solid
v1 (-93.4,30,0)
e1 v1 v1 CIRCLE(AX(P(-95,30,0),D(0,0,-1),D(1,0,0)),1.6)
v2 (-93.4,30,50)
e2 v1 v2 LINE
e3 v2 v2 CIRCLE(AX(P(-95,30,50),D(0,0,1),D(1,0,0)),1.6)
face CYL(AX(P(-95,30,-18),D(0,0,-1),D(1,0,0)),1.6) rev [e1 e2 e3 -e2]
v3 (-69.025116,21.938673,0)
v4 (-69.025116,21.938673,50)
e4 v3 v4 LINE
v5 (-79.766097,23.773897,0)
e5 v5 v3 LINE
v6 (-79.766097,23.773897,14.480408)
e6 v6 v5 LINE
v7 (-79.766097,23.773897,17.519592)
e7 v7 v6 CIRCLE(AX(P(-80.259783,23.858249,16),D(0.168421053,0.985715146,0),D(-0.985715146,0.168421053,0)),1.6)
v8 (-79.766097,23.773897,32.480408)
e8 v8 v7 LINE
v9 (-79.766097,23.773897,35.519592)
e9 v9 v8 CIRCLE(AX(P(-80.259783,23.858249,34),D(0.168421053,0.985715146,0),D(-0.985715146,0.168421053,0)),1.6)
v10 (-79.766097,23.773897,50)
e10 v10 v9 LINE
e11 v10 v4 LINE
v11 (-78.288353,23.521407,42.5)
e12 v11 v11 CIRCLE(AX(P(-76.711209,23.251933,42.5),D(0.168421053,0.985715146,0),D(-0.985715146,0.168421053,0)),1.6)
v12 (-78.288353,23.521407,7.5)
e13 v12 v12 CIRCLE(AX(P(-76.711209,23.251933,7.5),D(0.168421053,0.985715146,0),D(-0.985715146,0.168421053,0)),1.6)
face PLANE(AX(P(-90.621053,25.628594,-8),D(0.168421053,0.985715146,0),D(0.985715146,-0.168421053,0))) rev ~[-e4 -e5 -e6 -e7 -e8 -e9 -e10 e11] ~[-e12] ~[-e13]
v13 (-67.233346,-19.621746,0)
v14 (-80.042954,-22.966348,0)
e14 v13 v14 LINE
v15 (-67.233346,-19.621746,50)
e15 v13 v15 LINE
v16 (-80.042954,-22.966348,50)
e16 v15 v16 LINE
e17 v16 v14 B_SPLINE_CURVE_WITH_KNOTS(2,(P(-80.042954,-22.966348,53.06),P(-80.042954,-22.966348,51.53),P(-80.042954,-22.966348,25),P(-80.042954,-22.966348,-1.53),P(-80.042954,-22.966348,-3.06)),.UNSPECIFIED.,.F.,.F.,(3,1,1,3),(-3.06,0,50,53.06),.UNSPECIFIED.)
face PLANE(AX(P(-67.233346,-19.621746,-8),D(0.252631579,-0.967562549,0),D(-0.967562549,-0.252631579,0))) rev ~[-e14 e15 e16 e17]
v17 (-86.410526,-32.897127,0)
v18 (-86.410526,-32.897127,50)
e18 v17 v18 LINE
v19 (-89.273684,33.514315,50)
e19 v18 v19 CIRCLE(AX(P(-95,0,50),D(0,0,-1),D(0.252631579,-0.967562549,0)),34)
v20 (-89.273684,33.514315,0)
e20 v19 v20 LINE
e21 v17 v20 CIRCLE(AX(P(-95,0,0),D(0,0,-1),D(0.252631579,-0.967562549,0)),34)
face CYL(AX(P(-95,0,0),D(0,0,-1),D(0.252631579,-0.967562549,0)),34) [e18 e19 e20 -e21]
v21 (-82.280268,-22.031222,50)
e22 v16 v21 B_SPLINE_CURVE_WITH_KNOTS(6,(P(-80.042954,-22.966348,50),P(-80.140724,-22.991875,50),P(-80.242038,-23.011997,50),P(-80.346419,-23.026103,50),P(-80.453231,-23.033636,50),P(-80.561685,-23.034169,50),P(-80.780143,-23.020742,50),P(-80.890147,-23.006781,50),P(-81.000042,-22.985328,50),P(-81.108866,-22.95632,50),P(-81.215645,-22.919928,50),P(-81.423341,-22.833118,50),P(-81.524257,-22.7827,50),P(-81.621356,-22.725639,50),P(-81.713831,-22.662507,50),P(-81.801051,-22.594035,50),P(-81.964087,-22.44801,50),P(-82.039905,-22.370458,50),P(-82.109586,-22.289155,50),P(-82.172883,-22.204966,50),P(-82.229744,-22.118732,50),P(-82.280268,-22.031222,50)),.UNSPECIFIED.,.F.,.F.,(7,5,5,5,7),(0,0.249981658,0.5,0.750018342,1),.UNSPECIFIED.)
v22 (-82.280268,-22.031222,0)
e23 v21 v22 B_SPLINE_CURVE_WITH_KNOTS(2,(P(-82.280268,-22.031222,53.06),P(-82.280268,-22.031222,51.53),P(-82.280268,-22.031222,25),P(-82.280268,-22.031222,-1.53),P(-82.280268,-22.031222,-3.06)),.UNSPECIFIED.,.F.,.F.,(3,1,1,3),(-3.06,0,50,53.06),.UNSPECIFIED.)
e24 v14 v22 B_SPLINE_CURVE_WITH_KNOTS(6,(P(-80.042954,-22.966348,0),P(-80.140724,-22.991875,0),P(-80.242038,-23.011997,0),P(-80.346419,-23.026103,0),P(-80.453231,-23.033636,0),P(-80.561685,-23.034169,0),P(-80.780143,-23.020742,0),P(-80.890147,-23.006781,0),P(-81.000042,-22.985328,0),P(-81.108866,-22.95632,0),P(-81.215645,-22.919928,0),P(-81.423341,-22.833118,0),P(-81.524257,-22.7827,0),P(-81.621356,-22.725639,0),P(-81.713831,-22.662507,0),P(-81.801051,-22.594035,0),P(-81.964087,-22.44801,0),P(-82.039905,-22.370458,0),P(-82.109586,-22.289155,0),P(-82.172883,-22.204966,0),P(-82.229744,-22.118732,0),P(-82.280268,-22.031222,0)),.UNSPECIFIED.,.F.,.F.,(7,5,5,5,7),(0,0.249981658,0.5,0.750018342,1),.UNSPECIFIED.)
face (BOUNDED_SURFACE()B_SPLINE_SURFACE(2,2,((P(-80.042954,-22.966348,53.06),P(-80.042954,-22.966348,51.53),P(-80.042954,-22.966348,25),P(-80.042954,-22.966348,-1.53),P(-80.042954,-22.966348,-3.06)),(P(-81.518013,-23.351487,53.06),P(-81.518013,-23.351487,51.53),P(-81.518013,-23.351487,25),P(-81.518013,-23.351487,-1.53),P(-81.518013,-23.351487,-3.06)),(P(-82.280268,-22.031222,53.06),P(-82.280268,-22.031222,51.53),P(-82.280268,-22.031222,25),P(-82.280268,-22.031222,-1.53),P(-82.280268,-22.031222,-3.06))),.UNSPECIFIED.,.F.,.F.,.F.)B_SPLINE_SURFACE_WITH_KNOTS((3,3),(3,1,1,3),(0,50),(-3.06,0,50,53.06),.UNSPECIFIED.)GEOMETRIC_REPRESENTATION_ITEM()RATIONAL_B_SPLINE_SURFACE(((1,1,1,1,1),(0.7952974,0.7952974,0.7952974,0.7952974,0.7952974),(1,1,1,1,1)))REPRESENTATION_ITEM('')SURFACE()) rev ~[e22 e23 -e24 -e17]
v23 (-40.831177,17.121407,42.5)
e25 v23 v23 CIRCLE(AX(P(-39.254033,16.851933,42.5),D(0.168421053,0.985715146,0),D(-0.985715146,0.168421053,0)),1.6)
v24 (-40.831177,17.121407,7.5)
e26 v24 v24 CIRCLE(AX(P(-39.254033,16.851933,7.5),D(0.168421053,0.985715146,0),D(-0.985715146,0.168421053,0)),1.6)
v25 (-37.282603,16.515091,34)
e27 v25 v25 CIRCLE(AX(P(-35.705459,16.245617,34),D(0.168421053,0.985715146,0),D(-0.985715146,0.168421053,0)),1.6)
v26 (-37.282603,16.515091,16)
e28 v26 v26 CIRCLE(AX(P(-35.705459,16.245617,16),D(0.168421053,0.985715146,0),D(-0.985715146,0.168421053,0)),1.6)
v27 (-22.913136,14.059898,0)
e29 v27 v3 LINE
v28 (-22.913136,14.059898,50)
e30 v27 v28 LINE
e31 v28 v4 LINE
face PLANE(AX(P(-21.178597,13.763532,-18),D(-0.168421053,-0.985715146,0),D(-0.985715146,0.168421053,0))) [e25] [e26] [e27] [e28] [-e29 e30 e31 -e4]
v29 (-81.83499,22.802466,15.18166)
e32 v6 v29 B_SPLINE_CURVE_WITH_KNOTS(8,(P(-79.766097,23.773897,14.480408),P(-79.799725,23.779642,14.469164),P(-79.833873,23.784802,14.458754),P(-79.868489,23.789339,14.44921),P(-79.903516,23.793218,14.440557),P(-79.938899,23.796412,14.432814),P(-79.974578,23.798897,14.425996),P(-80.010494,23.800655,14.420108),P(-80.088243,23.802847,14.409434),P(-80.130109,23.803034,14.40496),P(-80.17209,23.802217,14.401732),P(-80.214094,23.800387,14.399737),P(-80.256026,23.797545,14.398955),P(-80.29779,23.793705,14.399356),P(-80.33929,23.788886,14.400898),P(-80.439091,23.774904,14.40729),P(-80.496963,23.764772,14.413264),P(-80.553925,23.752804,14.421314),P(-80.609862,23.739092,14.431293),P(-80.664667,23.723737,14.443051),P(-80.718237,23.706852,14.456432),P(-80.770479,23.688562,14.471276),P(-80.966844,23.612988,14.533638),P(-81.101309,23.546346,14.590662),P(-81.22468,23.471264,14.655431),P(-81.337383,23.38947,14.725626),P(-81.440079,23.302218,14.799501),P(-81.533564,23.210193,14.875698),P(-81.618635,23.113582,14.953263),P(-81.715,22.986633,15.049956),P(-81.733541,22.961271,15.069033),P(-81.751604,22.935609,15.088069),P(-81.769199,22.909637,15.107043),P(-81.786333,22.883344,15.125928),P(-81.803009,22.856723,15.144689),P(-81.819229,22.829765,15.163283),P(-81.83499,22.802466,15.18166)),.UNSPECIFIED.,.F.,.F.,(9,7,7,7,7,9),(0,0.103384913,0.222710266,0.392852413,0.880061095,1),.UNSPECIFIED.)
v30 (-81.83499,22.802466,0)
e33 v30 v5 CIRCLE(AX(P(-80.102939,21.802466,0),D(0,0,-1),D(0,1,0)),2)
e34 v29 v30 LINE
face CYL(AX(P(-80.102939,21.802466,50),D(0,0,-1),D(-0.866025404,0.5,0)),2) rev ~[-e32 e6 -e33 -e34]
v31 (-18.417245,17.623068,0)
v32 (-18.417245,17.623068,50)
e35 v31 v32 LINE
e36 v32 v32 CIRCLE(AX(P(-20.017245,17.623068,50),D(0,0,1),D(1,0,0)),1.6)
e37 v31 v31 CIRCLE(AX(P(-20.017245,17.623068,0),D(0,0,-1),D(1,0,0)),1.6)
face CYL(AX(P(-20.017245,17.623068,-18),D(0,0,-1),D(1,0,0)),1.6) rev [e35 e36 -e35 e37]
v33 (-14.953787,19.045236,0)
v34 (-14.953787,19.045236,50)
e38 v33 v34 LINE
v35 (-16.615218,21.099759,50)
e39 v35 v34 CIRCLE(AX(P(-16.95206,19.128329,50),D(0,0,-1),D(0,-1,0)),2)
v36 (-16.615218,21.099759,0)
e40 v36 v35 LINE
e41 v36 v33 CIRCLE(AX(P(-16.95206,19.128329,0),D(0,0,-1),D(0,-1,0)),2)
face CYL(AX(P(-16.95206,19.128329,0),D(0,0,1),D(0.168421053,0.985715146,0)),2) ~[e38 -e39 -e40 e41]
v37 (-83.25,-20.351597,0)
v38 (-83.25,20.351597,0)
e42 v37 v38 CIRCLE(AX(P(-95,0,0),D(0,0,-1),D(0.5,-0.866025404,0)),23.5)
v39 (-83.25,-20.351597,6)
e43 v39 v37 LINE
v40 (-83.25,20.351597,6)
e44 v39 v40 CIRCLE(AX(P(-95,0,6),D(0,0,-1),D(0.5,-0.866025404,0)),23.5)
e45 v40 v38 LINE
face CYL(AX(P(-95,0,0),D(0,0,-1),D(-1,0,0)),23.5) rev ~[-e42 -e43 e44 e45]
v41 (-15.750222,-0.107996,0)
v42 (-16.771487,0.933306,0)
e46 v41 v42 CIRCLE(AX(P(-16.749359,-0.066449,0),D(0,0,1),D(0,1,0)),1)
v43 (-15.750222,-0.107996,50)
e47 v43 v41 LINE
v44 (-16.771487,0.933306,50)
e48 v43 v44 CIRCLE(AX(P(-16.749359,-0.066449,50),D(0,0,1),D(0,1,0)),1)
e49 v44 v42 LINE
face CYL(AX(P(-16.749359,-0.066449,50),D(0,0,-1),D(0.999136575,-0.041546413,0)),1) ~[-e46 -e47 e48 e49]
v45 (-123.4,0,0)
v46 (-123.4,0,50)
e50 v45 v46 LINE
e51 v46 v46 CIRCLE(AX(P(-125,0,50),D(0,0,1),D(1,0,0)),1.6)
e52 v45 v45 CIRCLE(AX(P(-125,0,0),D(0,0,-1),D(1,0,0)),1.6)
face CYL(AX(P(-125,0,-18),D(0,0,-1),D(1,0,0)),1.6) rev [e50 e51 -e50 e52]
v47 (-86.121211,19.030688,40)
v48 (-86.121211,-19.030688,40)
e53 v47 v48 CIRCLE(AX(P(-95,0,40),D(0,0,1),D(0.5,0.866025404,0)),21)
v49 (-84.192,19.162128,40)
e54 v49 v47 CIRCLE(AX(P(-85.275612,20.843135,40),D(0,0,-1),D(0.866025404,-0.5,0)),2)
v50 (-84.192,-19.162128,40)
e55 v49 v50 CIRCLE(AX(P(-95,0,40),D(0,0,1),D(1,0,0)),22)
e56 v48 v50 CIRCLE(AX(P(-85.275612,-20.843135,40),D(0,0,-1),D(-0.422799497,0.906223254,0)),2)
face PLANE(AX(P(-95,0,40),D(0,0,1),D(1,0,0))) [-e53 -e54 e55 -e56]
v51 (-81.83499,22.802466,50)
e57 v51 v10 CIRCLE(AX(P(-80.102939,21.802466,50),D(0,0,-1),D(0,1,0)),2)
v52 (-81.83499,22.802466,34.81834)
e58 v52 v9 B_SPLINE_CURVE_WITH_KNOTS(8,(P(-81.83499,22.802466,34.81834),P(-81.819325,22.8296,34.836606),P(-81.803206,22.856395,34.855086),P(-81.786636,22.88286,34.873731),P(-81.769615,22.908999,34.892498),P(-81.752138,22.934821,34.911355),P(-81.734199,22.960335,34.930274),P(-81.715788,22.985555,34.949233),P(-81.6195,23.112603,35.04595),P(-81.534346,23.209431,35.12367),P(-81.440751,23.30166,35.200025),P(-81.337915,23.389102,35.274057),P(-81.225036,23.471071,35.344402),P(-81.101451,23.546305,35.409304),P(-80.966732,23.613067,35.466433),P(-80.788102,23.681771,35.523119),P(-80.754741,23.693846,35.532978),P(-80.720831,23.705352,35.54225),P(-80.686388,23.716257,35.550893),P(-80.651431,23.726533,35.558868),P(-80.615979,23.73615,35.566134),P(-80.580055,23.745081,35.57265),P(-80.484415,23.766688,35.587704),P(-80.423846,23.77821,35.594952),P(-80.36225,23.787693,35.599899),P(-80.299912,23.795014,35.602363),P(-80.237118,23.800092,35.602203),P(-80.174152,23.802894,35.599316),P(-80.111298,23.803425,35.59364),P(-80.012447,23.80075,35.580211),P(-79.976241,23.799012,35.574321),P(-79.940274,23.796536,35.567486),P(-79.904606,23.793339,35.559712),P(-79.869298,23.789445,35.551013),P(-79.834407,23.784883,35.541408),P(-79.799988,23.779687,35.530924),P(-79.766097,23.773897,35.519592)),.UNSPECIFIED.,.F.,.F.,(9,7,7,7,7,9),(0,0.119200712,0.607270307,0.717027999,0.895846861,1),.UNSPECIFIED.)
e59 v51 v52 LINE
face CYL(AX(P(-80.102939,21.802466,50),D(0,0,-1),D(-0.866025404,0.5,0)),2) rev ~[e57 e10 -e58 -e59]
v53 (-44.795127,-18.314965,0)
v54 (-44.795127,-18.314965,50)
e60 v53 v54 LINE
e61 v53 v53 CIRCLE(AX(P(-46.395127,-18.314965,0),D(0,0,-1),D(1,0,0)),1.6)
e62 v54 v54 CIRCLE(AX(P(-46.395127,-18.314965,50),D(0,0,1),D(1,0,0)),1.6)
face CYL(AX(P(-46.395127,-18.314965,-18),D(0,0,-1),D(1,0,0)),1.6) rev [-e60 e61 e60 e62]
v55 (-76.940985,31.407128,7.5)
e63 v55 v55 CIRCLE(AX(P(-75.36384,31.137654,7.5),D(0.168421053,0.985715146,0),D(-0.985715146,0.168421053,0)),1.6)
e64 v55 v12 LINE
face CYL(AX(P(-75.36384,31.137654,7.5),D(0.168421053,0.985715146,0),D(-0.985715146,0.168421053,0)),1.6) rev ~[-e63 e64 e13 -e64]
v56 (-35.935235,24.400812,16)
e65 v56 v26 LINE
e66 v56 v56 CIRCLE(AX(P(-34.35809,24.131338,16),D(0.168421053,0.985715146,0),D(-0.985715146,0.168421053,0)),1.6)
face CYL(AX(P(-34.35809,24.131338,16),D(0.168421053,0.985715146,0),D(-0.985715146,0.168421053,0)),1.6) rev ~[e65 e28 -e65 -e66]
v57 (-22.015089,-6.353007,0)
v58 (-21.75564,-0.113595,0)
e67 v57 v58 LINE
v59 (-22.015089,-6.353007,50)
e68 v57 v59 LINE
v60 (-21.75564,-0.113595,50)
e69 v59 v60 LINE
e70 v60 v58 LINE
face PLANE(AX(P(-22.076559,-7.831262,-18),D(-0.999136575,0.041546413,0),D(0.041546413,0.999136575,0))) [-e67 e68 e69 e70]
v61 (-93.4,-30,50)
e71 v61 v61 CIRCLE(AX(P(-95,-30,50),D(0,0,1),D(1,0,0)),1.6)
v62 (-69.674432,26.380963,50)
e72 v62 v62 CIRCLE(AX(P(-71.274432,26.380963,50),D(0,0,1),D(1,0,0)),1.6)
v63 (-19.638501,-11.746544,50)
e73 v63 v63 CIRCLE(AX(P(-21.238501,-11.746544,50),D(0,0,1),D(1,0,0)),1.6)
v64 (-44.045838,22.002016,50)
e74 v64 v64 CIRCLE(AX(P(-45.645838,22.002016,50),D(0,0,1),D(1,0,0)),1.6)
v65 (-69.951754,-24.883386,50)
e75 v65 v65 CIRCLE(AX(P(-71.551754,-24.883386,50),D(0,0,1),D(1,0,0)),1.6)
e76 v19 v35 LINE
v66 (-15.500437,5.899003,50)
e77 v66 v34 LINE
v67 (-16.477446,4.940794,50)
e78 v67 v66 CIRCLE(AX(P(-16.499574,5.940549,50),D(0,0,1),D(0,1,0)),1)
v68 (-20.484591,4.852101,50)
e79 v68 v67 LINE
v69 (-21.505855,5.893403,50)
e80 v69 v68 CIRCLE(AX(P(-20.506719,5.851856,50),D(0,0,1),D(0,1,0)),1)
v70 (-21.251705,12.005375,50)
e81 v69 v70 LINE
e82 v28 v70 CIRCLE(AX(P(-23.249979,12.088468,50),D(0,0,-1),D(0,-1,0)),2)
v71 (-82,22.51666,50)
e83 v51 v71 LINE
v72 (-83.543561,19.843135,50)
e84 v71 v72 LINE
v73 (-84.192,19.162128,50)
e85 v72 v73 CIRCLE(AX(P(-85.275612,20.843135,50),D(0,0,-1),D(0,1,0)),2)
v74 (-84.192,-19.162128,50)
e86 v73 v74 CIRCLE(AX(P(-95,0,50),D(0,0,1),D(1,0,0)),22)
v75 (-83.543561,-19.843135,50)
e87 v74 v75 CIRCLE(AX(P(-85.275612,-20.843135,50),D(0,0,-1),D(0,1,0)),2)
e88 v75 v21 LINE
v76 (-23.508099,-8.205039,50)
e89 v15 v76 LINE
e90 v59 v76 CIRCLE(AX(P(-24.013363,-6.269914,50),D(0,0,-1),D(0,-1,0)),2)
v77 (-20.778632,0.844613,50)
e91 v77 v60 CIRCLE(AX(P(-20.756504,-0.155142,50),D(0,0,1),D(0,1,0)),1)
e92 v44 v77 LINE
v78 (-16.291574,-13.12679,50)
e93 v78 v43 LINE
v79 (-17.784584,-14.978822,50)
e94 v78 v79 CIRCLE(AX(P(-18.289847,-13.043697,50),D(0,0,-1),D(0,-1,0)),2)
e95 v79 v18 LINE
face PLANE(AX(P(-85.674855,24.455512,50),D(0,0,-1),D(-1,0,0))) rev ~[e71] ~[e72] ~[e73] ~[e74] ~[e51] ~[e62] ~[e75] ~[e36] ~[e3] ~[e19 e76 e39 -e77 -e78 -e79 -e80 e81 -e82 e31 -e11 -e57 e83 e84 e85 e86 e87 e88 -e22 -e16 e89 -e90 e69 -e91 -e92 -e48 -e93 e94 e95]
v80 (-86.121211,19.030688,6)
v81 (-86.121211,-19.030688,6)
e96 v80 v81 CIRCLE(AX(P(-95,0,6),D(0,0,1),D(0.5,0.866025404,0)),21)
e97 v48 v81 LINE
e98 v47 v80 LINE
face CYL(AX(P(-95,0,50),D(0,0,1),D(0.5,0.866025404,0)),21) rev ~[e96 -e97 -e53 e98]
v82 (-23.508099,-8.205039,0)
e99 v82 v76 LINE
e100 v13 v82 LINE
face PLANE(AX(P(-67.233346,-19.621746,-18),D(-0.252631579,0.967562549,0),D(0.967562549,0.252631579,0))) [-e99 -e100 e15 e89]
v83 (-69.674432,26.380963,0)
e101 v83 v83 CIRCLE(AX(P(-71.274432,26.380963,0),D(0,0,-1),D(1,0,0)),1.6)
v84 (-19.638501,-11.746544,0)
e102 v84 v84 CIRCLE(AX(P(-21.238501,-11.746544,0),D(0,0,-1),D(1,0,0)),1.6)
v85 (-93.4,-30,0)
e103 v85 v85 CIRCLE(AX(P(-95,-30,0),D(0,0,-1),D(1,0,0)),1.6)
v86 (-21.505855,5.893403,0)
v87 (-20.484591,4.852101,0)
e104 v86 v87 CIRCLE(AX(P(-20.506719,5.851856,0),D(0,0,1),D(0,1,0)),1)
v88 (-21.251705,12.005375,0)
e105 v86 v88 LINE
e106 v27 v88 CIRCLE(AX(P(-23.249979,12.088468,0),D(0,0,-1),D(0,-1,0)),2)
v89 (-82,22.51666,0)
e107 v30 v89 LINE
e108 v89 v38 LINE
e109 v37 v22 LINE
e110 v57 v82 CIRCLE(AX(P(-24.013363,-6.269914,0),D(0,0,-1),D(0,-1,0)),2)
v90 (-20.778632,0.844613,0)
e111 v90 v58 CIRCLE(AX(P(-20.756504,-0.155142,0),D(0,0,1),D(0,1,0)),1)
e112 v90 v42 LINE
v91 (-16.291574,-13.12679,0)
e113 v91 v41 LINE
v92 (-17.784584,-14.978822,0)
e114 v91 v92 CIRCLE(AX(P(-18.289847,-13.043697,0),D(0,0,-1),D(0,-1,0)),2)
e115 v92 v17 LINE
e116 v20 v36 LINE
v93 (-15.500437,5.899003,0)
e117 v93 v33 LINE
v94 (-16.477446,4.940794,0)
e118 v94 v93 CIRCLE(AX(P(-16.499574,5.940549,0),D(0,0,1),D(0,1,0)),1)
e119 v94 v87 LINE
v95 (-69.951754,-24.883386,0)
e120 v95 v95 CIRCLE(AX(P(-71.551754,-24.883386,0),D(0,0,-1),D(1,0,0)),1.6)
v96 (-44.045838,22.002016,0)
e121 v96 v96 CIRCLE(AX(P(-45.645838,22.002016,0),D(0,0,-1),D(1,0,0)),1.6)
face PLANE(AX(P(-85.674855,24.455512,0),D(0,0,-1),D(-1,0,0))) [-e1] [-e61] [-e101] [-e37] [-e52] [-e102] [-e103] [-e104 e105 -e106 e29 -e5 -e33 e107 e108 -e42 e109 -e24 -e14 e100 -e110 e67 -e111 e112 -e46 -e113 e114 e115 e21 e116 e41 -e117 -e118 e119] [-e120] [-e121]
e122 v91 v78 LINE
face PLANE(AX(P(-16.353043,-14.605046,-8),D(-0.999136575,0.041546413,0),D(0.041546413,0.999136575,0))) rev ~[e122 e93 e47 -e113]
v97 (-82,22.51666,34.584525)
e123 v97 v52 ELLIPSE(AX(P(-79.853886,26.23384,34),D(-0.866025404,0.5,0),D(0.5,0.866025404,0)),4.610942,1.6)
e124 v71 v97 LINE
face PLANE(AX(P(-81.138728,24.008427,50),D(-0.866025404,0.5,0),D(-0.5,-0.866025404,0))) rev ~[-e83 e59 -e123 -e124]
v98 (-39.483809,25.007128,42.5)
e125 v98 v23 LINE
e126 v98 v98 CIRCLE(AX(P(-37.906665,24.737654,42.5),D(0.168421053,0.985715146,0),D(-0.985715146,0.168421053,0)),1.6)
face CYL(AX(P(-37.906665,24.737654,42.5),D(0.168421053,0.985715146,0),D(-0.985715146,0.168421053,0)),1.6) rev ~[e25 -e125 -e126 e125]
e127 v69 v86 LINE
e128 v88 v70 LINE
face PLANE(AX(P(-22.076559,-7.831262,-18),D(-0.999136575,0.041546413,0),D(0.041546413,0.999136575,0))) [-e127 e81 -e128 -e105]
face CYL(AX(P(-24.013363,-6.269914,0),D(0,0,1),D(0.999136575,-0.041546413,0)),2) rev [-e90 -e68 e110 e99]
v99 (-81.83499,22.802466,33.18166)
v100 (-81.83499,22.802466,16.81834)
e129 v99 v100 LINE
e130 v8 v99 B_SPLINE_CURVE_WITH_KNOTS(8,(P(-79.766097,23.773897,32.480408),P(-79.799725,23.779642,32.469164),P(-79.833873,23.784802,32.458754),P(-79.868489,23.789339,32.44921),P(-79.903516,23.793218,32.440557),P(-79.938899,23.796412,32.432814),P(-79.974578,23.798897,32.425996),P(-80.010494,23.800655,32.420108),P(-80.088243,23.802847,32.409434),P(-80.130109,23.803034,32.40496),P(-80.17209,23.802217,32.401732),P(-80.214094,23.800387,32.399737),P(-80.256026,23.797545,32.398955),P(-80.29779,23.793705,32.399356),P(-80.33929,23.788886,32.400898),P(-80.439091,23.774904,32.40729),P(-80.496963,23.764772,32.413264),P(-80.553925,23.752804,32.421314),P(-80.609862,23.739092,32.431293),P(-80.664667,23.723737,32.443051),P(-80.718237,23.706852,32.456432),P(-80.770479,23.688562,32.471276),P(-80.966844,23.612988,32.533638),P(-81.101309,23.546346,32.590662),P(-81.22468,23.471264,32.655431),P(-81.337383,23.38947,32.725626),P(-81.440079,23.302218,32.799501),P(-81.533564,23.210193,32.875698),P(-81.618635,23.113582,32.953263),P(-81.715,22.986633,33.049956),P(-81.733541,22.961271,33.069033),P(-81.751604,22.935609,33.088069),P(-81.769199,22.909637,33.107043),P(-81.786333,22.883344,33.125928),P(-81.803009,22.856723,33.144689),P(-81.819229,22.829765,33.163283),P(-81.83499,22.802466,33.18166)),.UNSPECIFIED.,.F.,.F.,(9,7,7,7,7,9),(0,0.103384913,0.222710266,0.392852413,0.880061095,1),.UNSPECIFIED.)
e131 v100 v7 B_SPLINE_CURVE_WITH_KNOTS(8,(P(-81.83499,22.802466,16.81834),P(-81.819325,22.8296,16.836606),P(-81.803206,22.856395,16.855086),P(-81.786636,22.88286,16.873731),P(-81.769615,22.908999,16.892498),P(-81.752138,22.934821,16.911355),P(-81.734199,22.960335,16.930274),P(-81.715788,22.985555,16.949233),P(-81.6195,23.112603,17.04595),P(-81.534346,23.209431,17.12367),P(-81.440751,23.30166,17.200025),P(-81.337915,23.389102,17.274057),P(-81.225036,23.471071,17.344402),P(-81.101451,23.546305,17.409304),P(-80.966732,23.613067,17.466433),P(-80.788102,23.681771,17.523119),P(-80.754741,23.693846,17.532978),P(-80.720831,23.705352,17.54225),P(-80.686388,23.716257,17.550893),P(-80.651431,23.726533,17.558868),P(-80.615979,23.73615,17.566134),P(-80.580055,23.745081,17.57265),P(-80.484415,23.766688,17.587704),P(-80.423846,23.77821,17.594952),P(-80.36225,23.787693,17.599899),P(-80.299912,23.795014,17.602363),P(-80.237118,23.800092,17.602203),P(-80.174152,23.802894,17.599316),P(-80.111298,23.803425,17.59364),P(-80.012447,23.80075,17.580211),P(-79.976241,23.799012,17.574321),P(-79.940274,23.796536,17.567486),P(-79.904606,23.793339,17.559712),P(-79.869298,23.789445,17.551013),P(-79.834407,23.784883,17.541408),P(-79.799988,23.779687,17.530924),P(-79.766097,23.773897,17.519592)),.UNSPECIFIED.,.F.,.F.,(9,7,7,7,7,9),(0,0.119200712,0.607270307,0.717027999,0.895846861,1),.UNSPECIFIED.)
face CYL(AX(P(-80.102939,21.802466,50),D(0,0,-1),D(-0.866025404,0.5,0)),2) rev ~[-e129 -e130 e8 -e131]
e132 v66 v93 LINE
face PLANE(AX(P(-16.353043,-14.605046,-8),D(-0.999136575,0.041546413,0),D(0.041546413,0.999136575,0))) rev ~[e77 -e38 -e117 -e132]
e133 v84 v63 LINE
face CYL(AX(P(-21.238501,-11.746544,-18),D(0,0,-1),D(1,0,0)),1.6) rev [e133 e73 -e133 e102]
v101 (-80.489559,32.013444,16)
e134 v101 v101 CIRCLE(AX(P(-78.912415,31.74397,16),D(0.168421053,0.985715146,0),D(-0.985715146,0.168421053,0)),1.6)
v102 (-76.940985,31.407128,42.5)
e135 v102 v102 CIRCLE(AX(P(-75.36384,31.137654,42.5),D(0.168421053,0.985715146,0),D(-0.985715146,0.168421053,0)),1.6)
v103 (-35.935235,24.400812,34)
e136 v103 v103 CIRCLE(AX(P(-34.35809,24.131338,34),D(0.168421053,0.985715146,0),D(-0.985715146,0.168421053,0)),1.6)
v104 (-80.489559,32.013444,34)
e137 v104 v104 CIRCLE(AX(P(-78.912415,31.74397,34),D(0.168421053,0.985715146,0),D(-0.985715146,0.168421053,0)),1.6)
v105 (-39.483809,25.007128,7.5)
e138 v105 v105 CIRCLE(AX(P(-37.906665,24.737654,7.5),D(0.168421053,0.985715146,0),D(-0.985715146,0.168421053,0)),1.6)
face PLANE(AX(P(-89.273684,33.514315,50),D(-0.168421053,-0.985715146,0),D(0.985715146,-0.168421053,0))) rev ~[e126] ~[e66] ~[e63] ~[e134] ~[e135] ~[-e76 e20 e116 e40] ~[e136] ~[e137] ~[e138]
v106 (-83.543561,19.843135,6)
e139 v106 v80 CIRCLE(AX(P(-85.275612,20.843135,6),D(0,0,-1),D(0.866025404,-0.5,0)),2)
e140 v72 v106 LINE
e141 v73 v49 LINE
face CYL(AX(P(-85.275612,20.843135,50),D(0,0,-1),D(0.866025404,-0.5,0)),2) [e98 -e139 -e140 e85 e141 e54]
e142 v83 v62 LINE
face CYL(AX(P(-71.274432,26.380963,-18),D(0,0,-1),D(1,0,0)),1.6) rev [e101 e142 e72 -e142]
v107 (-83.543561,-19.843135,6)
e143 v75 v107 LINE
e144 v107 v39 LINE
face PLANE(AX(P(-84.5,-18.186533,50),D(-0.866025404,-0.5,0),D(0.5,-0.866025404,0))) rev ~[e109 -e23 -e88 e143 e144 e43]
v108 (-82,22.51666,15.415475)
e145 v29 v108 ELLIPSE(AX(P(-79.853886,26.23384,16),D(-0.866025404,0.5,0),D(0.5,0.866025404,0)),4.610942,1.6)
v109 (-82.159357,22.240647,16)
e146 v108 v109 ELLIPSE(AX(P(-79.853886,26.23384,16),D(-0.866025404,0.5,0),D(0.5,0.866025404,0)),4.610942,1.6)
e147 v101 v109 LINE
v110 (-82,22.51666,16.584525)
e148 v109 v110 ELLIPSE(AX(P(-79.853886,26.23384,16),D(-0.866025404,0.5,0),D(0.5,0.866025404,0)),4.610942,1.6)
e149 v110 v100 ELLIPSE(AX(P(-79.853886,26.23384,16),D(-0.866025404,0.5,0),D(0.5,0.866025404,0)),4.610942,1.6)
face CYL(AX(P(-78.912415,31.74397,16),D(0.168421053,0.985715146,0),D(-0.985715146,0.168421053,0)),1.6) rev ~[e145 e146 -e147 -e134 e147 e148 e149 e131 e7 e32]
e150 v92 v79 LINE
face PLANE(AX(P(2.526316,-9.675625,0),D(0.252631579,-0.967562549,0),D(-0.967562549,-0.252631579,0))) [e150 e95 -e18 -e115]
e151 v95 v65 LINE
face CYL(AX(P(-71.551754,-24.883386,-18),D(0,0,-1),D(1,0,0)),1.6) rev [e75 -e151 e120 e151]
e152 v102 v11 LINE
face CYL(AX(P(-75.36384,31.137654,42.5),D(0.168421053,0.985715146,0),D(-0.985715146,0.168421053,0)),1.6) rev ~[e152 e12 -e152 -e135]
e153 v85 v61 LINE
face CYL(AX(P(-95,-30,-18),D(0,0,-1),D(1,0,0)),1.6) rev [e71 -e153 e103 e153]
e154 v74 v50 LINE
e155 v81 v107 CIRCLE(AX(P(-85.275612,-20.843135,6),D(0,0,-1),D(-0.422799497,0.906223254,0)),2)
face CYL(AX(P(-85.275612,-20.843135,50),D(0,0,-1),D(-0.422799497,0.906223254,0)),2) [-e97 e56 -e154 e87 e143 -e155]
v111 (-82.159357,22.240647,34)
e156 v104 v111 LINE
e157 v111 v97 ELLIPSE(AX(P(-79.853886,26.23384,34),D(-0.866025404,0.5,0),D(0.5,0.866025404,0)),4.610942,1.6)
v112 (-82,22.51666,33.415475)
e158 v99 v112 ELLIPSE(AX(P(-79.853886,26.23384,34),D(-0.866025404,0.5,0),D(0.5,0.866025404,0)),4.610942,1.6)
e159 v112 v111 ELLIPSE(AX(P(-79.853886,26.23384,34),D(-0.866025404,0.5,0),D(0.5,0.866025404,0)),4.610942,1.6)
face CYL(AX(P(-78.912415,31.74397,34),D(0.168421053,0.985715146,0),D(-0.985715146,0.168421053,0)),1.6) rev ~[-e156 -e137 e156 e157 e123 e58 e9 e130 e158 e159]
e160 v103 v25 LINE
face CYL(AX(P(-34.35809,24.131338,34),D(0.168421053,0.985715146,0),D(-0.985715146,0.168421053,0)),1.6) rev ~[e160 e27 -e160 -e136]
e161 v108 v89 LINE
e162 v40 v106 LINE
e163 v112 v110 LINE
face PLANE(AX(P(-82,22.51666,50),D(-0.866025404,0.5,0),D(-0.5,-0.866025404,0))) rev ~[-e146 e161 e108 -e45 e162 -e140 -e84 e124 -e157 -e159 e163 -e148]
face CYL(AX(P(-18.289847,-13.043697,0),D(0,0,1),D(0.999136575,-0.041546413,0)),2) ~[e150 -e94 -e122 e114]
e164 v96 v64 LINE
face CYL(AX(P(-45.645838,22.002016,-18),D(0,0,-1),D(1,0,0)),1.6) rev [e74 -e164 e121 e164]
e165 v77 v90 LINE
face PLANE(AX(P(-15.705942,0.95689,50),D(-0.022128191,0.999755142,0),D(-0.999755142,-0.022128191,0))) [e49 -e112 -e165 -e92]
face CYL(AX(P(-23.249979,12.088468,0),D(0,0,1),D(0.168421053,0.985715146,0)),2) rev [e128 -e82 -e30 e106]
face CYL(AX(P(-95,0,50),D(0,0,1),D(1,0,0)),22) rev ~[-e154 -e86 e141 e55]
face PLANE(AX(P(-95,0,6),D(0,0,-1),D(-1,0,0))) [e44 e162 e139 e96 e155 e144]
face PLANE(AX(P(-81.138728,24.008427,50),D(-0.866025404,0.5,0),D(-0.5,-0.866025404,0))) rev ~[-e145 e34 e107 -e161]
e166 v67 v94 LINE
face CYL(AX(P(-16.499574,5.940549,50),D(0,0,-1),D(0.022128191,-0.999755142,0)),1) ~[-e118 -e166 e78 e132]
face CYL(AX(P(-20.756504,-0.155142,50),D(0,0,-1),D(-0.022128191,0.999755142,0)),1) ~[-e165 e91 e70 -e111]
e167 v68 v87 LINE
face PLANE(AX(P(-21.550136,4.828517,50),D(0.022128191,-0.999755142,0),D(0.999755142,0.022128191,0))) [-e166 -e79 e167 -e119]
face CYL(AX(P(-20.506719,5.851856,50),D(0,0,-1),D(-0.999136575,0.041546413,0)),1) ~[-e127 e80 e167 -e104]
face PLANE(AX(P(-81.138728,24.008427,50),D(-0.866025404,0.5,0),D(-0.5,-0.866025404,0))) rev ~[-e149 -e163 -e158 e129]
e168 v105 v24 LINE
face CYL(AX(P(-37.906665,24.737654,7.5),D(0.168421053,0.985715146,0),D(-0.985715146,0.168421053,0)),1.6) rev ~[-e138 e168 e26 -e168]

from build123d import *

# Parameters (mm, degrees)
EXTRUDE_1_DEPTH            = 50
SKETCH_2_R                 = 26
CUT_EXTRUDE_1_DEPTH        = 50
EXTRUDE_2_DEPTH            = 50
CUT_EXTRUDE_START          = -68
SKETCH_3_R                 = 1.6
CUT_EXTRUDE_2_DEPTH        = 68
CUT_EXTRUDE_1_2_DEPTH      = 143.467540163
CUT_EXTRUDE_1_2_DEPTH_BACK = 58
CUT_EXTRUDE_START_2        = -58
CUT_EXTRUDE_3_DEPTH        = 58
EXTRUDE_3_DEPTH            = 50
FILLET_1_R                 = 2
SKETCH_8_R                 = 22
CUT_EXTRUDE_4_DEPTH        = 10
SKETCH_9_R                 = 23.5
CUT_EXTRUDE_5_DEPTH        = 6
EXTRUDE_4_DEPTH            = 50
FILLET_2_R                 = 2
SKETCH_11_R                = 1.6
CUT_EXTRUDE_6_DEPTH        = 24
SKETCH_12_R                = 1.6
CUT_EXTRUDE_7_DEPTH        = 10
CUT_EXTRUDE_8_DEPTH        = 72
FILLET_3_R                 = 1


with BuildPart() as part:
    # 草图1 → 凸台-拉伸1 (new body)
    with BuildSketch(Plane.XY):
        with BuildLine():
            Line((-86.410526316, 32.89712665), (2.526315789, 9.675625485))
            ThreePointArc((2.526315789, 9.675625485), (10, 0), (2.526315789, -9.675625485))
            Line((2.526315789, -9.675625485), (-86.410526316, -32.89712665))
            ThreePointArc((-86.410526316, -32.89712665), (-129, 0), (-86.410526316, 32.89712665))
        make_face()
    extrude(amount=EXTRUDE_1_DEPTH)

    # 草图2 → Cut-Extrude 1 (cut)
    with BuildSketch(Plane.XY.offset(50)):
        with Locations((-95, 0)):
            Circle(SKETCH_2_R)
    extrude(amount=-CUT_EXTRUDE_1_DEPTH, mode=Mode.SUBTRACT)

    # 草图4 → 凸台-拉伸2 (add)
    with BuildSketch(Plane.XY.offset(50)):
        Polygon((-89.273684211, 33.514314964), (0, 18.260853628), (0, 0), align=None)
    extrude(amount=-EXTRUDE_2_DEPTH)

    # 草图3 → 切除-拉伸2 (cut)
    with BuildSketch(Plane.XY.offset(50).offset(CUT_EXTRUDE_START)):
        with Locations((-95, 30)):
            Circle(SKETCH_3_R)
        with Locations((-125, 0)):
            Circle(SKETCH_3_R)
        with Locations((-95, -30)):
            Circle(SKETCH_3_R)
        with Locations((-71.551753536, -24.883386101)):
            Circle(SKETCH_3_R)
        with Locations((-71.274432107, 26.380963088)):
            Circle(SKETCH_3_R)
        with Locations((-45.645838312, 22.002015719)):
            Circle(SKETCH_3_R)
        with Locations((-21.238501013, -11.746543996)):
            Circle(SKETCH_3_R)
        with Locations((-20.017244516, 17.623068351)):
            Circle(SKETCH_3_R)
        with Locations((-46.395127275, -18.314965049)):
            Circle(SKETCH_3_R)
        with BuildLine():
            Line((-67.233345602, -19.621745681), (-22.076558694, -7.831262064))
            Line((-22.076558694, -7.831262064), (-21.17859716, 13.763531668))
            Line((-21.17859716, 13.763531668), (-69.025115802, 21.938673408))
            ThreePointArc((-69.025115802, 21.938673408), (-61.031553592, 1.464461893), (-67.233345602, -19.621745681))
        make_face()
    extrude(amount=CUT_EXTRUDE_2_DEPTH, mode=Mode.SUBTRACT)

    # 草图5 → Cut-Extrude 1 2 (cut, two sides: drawn at the far end of the back side and taken through both)
    with BuildSketch(Plane.XY.offset(50).offset(-CUT_EXTRUDE_1_2_DEPTH_BACK)):
        Polygon((-16.353043274, -14.605045601), (-14.880678398, 20.803392951), (25.084784603, 19.141536445), (23.612419728, -16.266902106), align=None)
    extrude(amount=CUT_EXTRUDE_1_2_DEPTH + CUT_EXTRUDE_1_2_DEPTH_BACK, mode=Mode.SUBTRACT)

    # 草图6 → 切除-拉伸3 (cut)
    with BuildSketch(Plane.XY.offset(50).offset(CUT_EXTRUDE_START_2)):
        with BuildLine():
            Line((-90.621052632, 25.628593796), (-69.025115802, 21.938673408))
            ThreePointArc((-69.025115802, 21.938673408), (-61.031553592, 1.464461893), (-67.233345602, -19.621745681))
            Line((-67.233345602, -19.621745681), (-88.431578947, -25.156626262))
            ThreePointArc((-88.431578947, -25.156626262), (-69.024129218, 1.119882624), (-90.621052632, 25.628593796))
        make_face()
    extrude(amount=CUT_EXTRUDE_3_DEPTH, mode=Mode.SUBTRACT)

    # 草图7 → 凸台-拉伸3 (add)
    with BuildSketch(Plane.XY.offset(50)):
        with BuildLine():
            Line((-82, 22.516660498), (-84.5, 18.186533479))
            ThreePointArc((-84.5, 18.186533479), (-116, 0), (-84.5, -18.186533479))
            Line((-84.5, -18.186533479), (-82, -22.516660498))
            ThreePointArc((-82, -22.516660498), (-121, 0), (-82, 22.516660498))
        make_face()
    extrude(amount=-EXTRUDE_3_DEPTH)

    # 圆角1
    fillet_1_edges = [part.edges().sort_by_distance(p)[0] for p in [
        (-14.880678398, 20.803392951, 25),
        (-16.353043274, -14.605045601, 25),
        (-84.5, 18.186533479, 25),
        (-84.5, -18.186533479, 25),
        (-21.17859716, 13.763531668, 25),
        (-22.076558694, -7.831262064, 25),
    ]]
    fillet(fillet_1_edges, radius=FILLET_1_R)

    # 草图8 → 切除-拉伸4 (cut)
    with BuildSketch(Plane.XY.offset(50)):
        with Locations((-95, 0)):
            Circle(SKETCH_8_R)
    extrude(amount=-CUT_EXTRUDE_4_DEPTH, mode=Mode.SUBTRACT)

    # 草图9 → 切除-拉伸5 (cut)
    with BuildSketch(Plane(origin=(0, 0, 0), x_dir=(-1, 0, 0), z_dir=(0, 0, -1))):
        with Locations((95, 0)):
            Circle(SKETCH_9_R)
    extrude(amount=-CUT_EXTRUDE_5_DEPTH, mode=Mode.SUBTRACT)

    # 草图10 → 凸台-拉伸4 (add)
    with BuildSketch(Plane.XY.offset(50)):
        with BuildLine():
            Line((-90.621052632, 25.628593796), (-81.138728268, 24.008426897))
            Line((-81.138728268, 24.008426897), (-82, 22.516660498))
            ThreePointArc((-82, 22.516660498), (-86.172317115, 24.455510931), (-90.621052632, 25.628593796))
        make_face()
        with BuildLine():
            Line((-82, -22.516660498), (-81.518012702, -23.351486987))
            Line((-81.518012702, -23.351486987), (-88.431578947, -25.156626262))
            ThreePointArc((-88.431578947, -25.156626262), (-85.127151858, -24.052585507), (-82, -22.516660498))
        make_face()
    extrude(amount=-EXTRUDE_4_DEPTH)

    # 圆角2
    fillet_2_edges = [part.edges().sort_by_distance(p)[0] for p in [
        (-81.138728268, 24.008426897, 25),
        (-81.518012702, -23.351486987, 25),
    ]]
    fillet(fillet_2_edges, radius=FILLET_2_R)

    # 草图11 → 切除-拉伸6 (cut)
    with BuildSketch(Plane(origin=(3.031578947, 17.742872628, 0), x_dir=(0.9857151459881658, -0.16842105263157892, 0), z_dir=(0.16842105263157894, 0.9857151459881659, 0))):
        with Locations(Location((-37.931515403, -16, 0), (0, 0, 180))):
            Circle(SKETCH_11_R)
        with Locations(Location((-83.131515403, -16, 0), (0, 0, 180))):
            Circle(SKETCH_11_R)
        with Locations(Location((-83.131515403, -34, 0), (0, 0, 180))):
            Circle(SKETCH_11_R)
        with Locations(Location((-37.931515403, -34, 0), (0, 0, 180))):
            Circle(SKETCH_11_R)
    extrude(amount=-CUT_EXTRUDE_6_DEPTH, mode=Mode.SUBTRACT)

    # 草图12 → 切除-拉伸7 (cut)
    with BuildSketch(Plane(origin=(3.031578947, 17.742872628, 0), x_dir=(0.9857151459881658, -0.16842105263157892, 0), z_dir=(0.16842105263157894, 0.9857151459881659, 0))):
        with Locations(Location((-79.531515403, -7.5, 0), (0, 0, 180))):
            Circle(SKETCH_12_R)
        with Locations(Location((-41.531515403, -7.5, 0), (0, 0, 180))):
            Circle(SKETCH_12_R)
        with Locations(Location((-79.531515403, -42.5, 0), (0, 0, 180))):
            Circle(SKETCH_12_R)
        with Locations(Location((-41.531515403, -42.5, 0), (0, 0, 180))):
            Circle(SKETCH_12_R)
    extrude(amount=-CUT_EXTRUDE_7_DEPTH, mode=Mode.SUBTRACT)

    # 草图13 → 切除-拉伸8 (cut)
    with BuildSketch(Plane.XY.offset(50)):
        Polygon((-21.550135764, 4.82851696), (-15.539418673, 4.961555834), (-15.705941936, 0.956890399), (-21.716659027, 0.823851526), align=None)
    extrude(amount=-CUT_EXTRUDE_8_DEPTH, mode=Mode.SUBTRACT)

    # 圆角3
    fillet_3_edges = [part.edges().sort_by_distance(p)[0] for p in [
        (-15.705941936, 0.956890399, 25),
        (-15.539418673, 4.961555834, 25),
        (-21.716659027, 0.823851526, 25),
        (-21.550135764, 4.82851696, 25),
    ]]
    fillet(fillet_3_edges, radius=FILLET_3_R)


solid = part.part
